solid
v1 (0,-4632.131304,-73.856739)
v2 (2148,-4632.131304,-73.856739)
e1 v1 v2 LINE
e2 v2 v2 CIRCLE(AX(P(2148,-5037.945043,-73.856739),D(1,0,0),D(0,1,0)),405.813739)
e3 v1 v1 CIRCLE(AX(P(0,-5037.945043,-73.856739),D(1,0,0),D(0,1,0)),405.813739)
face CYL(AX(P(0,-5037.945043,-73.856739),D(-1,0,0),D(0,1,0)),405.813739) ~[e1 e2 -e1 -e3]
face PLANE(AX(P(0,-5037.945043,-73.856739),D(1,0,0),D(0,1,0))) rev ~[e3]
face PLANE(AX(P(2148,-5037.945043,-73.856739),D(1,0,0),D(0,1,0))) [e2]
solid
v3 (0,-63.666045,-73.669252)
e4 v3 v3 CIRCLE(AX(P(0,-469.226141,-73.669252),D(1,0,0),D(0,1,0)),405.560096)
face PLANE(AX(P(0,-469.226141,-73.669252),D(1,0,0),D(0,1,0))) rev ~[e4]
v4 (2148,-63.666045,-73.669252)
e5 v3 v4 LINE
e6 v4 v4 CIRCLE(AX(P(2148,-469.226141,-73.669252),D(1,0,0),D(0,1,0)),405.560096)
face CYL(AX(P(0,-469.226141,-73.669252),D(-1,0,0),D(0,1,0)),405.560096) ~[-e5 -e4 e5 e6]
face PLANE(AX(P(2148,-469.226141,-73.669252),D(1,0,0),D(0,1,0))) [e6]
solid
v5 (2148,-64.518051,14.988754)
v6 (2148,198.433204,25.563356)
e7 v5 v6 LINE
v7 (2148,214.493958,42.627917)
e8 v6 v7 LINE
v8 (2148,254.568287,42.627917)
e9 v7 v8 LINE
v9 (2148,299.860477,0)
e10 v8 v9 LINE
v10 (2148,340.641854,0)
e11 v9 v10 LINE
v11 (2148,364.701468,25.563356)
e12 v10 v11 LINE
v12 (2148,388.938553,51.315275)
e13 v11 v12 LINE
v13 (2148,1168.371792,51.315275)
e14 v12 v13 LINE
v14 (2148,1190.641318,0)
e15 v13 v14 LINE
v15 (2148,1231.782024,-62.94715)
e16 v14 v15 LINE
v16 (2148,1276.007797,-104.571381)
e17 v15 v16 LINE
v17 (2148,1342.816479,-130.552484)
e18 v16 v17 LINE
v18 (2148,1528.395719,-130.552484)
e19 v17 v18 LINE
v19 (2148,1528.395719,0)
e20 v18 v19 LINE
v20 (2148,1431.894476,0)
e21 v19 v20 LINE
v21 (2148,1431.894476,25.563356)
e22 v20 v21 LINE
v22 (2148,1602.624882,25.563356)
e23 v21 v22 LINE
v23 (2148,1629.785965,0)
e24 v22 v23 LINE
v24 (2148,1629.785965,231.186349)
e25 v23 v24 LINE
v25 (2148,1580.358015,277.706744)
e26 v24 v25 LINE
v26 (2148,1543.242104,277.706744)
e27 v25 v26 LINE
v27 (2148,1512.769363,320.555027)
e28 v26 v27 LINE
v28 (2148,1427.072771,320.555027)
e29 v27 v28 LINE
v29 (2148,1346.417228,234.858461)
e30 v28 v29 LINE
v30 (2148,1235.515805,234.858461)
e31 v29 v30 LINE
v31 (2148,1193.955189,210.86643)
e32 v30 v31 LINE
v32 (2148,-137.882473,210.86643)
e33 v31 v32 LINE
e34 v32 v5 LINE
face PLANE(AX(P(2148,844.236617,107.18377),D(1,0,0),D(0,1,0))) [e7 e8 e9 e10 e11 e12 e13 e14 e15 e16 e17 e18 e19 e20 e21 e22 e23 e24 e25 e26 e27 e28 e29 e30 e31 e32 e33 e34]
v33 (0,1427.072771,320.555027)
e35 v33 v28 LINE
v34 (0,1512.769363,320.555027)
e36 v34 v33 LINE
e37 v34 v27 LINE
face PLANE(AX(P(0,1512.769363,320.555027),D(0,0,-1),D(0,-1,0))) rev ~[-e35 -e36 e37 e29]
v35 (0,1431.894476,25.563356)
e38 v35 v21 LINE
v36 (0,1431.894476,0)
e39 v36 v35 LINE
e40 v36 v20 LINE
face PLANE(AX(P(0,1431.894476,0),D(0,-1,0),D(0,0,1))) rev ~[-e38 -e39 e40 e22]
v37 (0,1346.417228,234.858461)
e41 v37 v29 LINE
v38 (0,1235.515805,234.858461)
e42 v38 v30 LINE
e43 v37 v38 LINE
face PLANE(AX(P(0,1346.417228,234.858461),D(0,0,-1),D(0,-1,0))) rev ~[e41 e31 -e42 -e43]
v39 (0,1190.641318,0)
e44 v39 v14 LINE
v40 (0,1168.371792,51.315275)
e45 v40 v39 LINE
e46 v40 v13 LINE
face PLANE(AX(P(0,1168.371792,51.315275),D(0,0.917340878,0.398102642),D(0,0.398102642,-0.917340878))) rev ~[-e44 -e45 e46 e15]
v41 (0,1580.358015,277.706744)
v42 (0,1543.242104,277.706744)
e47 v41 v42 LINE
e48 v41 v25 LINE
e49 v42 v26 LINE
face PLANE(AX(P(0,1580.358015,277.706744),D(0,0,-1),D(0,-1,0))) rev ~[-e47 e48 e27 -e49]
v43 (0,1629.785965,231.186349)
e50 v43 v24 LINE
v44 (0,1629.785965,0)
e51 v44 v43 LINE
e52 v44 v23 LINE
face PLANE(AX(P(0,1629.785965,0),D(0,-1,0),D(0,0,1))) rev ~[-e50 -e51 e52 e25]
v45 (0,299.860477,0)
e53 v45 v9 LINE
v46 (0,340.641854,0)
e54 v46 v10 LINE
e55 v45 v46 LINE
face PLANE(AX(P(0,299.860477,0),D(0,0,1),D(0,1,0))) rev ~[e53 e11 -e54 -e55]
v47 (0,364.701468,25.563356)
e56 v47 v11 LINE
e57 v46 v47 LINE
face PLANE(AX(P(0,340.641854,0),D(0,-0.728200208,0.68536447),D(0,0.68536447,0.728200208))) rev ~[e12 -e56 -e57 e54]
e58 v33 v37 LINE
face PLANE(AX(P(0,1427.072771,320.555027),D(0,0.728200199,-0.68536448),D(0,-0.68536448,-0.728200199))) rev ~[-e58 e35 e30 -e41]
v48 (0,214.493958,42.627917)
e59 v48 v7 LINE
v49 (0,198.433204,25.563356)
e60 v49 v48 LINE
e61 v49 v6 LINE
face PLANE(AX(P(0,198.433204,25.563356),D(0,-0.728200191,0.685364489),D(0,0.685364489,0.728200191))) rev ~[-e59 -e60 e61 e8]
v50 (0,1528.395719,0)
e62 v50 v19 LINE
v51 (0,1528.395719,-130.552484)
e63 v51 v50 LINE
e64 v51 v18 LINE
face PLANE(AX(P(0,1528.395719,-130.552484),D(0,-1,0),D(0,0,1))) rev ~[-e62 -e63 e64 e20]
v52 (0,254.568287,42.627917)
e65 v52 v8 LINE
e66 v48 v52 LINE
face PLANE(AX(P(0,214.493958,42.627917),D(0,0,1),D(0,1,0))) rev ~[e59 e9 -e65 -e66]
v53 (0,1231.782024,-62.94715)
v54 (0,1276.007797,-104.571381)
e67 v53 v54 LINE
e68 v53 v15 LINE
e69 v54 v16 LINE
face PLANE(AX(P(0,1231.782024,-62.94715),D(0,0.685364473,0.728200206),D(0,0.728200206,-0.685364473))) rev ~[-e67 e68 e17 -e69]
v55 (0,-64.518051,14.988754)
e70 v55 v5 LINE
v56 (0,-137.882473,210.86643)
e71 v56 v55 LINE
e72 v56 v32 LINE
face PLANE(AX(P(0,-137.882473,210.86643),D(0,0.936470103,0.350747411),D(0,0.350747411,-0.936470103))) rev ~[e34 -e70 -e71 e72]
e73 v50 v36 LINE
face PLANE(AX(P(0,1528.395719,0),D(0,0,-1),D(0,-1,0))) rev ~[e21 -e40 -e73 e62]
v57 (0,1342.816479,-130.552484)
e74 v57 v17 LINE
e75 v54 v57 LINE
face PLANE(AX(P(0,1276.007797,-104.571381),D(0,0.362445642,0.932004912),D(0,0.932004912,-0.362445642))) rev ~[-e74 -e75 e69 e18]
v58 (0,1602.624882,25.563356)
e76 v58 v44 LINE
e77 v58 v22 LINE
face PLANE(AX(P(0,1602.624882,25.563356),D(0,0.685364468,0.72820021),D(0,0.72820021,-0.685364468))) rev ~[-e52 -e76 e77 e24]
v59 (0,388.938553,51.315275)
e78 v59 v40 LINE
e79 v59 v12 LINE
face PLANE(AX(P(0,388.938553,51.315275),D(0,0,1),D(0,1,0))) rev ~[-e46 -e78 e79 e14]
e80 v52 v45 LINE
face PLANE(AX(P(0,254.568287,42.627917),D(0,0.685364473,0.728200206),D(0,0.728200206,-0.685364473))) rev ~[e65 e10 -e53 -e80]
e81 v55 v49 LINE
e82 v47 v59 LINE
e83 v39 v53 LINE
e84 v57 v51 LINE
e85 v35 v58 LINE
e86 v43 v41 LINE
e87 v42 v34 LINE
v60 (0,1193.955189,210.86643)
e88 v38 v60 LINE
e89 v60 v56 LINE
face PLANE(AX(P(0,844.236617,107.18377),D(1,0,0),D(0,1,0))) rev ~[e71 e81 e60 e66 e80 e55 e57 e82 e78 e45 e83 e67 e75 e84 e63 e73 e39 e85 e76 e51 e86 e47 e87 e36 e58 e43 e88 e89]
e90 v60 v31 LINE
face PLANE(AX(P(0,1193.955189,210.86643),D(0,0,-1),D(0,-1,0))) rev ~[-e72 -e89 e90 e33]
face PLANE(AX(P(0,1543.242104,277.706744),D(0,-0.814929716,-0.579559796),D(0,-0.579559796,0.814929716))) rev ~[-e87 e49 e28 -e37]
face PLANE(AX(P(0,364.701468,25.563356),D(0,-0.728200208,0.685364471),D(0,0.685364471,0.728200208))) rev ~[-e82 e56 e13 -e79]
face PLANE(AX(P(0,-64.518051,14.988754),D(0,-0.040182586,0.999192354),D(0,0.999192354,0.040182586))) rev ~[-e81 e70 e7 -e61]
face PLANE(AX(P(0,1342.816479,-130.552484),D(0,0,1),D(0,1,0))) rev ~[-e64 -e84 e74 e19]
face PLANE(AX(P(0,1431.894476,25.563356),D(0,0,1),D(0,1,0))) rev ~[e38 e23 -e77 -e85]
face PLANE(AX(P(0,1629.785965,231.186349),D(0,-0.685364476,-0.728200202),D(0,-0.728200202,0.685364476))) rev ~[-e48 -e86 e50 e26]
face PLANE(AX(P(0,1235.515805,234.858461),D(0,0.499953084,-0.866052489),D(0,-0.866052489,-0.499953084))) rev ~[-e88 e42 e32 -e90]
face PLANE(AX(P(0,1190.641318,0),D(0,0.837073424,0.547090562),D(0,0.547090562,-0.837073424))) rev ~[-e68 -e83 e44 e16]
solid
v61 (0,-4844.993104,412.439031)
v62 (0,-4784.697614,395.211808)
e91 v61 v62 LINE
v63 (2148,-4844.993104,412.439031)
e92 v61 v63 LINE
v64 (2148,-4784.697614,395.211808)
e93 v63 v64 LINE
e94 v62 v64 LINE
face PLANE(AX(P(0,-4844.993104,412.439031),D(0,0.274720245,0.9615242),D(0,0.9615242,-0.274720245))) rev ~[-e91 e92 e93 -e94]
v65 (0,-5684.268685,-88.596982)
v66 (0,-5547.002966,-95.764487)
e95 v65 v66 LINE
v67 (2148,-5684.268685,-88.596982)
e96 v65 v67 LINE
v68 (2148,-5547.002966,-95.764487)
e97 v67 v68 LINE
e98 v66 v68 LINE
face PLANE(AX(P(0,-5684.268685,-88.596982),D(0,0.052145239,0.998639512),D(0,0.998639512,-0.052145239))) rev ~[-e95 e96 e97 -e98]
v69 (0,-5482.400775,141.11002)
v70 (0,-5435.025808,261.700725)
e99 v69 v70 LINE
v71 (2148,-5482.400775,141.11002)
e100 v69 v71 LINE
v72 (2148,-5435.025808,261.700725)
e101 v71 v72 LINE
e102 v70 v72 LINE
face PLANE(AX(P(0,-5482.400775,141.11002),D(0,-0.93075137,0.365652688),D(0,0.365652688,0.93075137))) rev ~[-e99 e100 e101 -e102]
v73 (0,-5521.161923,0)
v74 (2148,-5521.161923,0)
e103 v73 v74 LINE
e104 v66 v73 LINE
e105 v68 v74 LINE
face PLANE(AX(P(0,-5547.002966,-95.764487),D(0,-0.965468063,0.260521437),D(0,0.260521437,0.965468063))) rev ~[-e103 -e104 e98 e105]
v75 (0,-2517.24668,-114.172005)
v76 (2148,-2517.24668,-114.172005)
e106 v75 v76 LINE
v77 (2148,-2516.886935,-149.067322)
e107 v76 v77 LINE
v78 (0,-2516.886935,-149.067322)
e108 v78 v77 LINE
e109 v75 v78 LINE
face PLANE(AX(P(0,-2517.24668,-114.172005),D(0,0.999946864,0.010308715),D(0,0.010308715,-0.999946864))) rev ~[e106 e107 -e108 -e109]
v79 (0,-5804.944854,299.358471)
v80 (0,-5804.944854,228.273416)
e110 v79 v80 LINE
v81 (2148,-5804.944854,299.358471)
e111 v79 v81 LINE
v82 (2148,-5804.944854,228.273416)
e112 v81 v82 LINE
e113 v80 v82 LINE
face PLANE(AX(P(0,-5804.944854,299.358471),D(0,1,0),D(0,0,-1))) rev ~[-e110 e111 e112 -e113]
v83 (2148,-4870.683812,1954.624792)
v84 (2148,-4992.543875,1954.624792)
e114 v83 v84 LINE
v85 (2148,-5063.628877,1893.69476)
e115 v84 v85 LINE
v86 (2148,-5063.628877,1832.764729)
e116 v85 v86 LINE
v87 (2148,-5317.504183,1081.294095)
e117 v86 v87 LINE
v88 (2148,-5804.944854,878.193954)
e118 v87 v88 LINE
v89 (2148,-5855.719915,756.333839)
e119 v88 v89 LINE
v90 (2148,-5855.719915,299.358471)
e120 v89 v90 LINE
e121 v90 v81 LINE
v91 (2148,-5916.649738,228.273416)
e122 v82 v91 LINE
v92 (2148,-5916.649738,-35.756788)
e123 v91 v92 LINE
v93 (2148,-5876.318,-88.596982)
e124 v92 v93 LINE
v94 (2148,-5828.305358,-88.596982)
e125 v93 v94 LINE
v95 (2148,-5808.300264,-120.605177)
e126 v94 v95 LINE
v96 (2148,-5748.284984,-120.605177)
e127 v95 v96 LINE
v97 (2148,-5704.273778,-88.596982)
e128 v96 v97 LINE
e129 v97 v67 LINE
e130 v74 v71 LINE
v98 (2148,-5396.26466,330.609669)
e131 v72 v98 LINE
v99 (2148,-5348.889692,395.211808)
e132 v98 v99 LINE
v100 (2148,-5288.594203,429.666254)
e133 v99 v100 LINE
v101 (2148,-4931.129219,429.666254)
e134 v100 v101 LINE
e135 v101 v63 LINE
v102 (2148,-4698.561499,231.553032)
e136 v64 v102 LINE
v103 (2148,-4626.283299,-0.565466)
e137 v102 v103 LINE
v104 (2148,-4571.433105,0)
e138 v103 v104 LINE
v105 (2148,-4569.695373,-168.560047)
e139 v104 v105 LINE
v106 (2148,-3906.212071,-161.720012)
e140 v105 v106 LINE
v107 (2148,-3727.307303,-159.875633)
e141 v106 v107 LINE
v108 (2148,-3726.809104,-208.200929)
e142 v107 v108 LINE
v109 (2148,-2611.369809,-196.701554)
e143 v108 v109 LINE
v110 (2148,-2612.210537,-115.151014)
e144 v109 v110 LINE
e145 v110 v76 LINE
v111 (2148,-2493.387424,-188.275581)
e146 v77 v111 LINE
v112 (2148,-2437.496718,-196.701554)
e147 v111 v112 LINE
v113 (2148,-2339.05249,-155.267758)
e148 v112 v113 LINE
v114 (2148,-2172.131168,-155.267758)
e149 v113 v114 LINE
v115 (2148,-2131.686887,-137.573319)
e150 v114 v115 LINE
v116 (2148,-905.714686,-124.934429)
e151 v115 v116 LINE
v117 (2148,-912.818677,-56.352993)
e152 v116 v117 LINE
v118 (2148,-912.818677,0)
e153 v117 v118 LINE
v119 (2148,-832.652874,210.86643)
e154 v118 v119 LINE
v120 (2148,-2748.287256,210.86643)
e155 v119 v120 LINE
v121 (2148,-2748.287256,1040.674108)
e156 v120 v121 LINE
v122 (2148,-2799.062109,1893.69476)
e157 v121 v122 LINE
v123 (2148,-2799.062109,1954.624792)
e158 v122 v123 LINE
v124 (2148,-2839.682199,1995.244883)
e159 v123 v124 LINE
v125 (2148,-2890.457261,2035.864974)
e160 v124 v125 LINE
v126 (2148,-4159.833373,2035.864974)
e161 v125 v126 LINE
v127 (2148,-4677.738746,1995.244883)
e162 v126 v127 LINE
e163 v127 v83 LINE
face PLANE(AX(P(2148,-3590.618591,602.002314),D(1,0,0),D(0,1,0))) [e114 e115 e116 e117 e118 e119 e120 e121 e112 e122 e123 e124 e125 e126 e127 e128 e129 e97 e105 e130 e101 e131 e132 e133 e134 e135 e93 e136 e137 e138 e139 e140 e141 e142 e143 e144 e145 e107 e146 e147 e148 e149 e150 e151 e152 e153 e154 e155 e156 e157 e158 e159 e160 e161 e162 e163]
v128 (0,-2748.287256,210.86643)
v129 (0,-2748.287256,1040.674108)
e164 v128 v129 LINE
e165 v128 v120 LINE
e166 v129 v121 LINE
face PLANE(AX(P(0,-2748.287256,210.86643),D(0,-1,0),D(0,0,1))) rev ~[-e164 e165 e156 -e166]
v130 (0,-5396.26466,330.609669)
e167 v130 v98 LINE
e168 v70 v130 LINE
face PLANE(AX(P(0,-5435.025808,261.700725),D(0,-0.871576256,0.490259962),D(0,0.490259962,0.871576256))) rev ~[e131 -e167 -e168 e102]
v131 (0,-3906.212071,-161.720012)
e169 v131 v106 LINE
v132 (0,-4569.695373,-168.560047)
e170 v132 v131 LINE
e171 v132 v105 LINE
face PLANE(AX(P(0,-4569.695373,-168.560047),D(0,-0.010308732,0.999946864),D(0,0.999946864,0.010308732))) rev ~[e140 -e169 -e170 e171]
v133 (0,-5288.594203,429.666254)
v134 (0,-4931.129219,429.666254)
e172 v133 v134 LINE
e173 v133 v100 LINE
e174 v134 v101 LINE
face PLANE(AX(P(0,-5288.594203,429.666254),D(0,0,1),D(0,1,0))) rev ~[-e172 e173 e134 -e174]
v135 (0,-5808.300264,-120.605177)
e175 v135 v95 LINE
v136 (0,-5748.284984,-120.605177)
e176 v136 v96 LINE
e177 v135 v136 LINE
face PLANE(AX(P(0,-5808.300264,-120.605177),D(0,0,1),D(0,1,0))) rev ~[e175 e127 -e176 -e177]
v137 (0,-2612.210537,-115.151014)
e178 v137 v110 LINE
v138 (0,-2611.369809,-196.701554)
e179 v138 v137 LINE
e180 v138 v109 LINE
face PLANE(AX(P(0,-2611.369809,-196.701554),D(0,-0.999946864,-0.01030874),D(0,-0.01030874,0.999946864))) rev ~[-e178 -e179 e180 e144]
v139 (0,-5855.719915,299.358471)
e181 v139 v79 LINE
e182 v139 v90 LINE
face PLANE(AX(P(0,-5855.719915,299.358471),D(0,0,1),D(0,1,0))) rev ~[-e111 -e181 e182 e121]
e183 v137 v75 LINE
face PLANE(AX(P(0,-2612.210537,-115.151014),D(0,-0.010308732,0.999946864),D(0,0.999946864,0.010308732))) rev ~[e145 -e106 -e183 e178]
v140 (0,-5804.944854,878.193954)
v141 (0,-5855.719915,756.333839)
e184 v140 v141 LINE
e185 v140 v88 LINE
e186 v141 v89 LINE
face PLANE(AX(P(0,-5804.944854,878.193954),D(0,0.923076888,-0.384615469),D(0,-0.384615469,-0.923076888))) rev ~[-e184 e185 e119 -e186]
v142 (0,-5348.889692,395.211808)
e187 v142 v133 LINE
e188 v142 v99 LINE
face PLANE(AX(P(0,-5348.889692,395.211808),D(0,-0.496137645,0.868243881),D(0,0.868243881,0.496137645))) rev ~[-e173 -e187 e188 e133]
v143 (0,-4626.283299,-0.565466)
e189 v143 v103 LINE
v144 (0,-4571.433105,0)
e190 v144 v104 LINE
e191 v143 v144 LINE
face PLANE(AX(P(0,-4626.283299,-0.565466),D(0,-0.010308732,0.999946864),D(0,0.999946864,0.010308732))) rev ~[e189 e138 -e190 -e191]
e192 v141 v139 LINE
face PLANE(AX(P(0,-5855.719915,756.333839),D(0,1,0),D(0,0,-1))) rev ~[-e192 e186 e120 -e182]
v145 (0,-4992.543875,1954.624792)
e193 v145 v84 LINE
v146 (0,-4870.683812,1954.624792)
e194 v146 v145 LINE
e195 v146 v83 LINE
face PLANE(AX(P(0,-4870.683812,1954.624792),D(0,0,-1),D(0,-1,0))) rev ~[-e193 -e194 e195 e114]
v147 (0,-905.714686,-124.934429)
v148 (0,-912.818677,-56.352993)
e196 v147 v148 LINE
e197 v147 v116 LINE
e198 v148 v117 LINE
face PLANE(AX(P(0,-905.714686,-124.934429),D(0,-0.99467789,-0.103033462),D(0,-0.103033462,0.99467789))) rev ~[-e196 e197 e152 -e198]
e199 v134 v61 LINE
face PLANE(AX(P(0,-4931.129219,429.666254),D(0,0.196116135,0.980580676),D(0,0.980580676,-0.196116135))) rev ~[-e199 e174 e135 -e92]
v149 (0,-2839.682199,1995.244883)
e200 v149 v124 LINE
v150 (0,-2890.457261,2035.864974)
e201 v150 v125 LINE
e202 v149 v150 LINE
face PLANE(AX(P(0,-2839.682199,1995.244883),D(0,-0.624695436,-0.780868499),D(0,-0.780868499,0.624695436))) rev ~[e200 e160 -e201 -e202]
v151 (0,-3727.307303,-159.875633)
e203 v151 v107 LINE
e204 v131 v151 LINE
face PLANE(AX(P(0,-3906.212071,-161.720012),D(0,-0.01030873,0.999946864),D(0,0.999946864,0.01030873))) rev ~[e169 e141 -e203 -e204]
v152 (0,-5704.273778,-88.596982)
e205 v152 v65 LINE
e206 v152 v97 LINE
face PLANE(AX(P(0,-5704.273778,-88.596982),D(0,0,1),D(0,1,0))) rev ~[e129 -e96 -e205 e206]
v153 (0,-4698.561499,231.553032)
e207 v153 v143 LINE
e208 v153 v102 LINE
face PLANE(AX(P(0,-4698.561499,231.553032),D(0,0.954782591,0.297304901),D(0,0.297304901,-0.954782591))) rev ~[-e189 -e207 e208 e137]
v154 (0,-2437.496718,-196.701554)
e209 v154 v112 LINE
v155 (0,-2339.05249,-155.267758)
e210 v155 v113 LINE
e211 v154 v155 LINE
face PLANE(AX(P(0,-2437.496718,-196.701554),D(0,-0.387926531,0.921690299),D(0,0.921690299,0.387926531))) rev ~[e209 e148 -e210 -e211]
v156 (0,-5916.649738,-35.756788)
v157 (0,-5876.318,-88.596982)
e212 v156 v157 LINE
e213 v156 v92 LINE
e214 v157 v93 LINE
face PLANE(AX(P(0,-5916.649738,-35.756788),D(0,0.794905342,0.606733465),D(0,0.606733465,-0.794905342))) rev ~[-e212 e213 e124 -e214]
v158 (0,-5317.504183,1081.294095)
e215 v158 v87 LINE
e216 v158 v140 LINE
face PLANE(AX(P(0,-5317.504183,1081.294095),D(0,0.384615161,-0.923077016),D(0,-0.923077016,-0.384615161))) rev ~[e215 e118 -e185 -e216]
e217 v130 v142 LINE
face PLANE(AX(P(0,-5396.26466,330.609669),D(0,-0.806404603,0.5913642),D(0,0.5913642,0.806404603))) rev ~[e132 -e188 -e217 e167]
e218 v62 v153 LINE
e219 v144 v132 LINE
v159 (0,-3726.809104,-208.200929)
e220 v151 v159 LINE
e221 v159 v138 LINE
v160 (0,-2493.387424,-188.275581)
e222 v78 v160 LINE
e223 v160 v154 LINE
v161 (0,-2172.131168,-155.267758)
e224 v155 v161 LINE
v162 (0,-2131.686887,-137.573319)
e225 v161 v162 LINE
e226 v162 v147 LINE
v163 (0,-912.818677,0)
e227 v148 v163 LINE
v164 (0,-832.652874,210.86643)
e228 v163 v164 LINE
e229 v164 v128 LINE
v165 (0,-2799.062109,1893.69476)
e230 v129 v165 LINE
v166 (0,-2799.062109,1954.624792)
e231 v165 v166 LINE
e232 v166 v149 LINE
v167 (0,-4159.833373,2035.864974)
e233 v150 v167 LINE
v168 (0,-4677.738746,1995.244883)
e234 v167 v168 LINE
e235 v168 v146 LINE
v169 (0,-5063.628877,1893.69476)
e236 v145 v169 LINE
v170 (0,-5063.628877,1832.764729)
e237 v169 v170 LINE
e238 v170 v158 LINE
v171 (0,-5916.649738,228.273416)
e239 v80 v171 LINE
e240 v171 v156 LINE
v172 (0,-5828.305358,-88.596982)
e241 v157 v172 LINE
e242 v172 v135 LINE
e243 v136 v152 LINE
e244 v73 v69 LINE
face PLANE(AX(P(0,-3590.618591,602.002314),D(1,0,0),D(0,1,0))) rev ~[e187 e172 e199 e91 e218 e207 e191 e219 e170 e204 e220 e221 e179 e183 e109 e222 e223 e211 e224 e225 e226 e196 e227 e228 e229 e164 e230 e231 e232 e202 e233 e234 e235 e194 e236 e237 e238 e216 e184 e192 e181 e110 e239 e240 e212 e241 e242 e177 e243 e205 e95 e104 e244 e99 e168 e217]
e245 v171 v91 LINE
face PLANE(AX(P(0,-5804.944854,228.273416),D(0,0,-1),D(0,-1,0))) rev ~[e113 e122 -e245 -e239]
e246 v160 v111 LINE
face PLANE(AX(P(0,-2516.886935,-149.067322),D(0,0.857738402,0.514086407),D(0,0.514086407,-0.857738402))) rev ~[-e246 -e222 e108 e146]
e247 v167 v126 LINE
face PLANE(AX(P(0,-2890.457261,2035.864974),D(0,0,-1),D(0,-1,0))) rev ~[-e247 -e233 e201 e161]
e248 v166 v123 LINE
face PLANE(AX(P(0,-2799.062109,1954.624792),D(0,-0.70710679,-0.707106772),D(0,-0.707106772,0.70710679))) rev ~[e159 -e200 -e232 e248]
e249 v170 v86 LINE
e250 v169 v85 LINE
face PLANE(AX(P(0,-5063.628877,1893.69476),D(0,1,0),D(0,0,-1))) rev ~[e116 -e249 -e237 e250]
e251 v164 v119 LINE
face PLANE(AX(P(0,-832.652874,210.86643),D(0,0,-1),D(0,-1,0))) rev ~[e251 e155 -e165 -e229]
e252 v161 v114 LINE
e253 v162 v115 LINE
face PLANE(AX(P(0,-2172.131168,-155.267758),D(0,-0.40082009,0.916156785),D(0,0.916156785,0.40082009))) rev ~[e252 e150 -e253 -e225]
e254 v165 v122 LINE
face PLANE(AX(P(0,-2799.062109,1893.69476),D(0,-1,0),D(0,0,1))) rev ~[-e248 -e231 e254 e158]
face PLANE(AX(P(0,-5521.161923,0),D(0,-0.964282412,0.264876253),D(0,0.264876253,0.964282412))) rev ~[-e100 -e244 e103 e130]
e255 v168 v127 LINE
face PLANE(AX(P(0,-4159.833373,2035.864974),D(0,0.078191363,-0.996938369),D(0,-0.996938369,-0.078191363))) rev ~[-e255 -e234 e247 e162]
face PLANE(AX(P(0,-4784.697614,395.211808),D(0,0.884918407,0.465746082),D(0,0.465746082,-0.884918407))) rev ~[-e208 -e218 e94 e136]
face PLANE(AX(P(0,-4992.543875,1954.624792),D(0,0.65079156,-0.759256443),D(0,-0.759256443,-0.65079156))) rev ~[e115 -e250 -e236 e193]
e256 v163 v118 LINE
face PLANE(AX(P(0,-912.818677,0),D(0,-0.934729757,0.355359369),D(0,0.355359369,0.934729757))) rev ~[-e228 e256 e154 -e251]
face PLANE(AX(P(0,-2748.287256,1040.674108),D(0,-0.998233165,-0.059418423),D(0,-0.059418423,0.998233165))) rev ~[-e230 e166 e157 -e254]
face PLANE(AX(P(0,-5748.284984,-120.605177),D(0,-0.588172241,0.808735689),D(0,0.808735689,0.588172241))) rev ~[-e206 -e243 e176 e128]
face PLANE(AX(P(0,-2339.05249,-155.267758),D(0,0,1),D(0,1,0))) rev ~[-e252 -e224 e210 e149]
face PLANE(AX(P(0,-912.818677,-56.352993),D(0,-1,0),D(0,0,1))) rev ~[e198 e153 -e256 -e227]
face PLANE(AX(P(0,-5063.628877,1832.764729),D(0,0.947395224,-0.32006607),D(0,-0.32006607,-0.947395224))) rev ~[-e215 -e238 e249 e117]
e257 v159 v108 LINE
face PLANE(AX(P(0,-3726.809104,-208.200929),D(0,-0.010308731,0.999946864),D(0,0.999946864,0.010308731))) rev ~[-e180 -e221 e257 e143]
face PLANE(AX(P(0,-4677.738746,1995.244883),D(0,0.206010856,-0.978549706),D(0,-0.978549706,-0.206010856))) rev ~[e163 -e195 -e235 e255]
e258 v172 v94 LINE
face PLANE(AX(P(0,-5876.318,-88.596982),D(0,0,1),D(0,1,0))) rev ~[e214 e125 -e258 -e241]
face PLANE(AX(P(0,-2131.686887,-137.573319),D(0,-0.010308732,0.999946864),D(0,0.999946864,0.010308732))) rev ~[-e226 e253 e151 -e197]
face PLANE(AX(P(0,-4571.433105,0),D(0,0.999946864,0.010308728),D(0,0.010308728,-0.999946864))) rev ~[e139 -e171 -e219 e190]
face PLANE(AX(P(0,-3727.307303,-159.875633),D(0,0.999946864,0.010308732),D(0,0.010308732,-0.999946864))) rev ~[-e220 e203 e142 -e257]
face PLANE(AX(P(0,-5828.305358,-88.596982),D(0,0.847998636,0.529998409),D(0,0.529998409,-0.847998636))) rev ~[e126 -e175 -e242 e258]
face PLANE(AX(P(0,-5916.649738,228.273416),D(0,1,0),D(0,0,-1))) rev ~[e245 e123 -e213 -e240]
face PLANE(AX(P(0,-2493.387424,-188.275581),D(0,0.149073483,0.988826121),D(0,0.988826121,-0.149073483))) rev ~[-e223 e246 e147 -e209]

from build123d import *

# Parameters (mm, degrees)
F1_R     = 405.813739
F1_R_2   = 405.560096
F2_DEPTH = 2148
F3_DEPTH = 2148


with BuildPart() as f2:
    # F1 (on Right) → F2 (new body)
    with BuildSketch(Plane.YZ):
        with Locations((-5037.945043, -73.856739)):
            Circle(F1_R)
        with Locations((-469.226141, -73.669252)):
            Circle(F1_R_2)
    extrude(amount=F2_DEPTH)


with BuildPart() as f3:
    # F0 (on Right) → F3 (new body)
    with BuildSketch(Plane.YZ):
        Polygon((-5916.649738, 86.103295), (-5916.649738, -35.756788), (-5876.318, -88.596982), (-5828.305358, -88.596982), (-5808.300264, -120.605177), (-5748.284984, -120.605177), (-5704.273778, -88.596982), (-5684.268685, -88.596982), (-5547.002966, -95.764487), (-5521.161923, 0), (-5482.400775, 141.11002), (-5435.025808, 261.700725), (-5396.26466, 330.609669), (-5348.889692, 395.211808), (-5288.594203, 429.666254), (-4931.129219, 429.666254), (-4844.993104, 412.439031), (-4784.697614, 395.211808), (-4698.561499, 231.553032), (-4626.283299, -0.565466), (-4571.433105, 0), (-4569.695373, -168.560047), (-3906.212071, -161.720012), (-3727.307303, -159.875633), (-3726.809104, -208.200929), (-2611.369809, -196.701554), (-2612.210537, -115.151014), (-2517.24668, -114.172005), (-2516.886935, -149.067322), (-2493.387424, -188.275581), (-2437.496718, -196.701554), (-2339.05249, -155.267758), (-2217.631324, -155.267758), (-2172.131168, -155.267758), (-2131.686887, -137.573319), (-905.714686, -124.934429), (-912.818677, -56.352993), (-912.818677, 0), (-832.652874, 210.86643), (-2748.287256, 210.86643), (-2748.287256, 228.273416), (-2748.287256, 675.093762), (-2748.287256, 1040.674108), (-2799.062109, 1893.69476), (-2799.062109, 1954.624792), (-2839.682199, 1995.244883), (-2890.457261, 2035.864974), (-2971.697442, 2035.864974), (-4159.833373, 2035.864974), (-4677.738746, 1995.244883), (-4870.683812, 1954.624792), (-4921.458873, 1954.624792), (-4992.543875, 1954.624792), (-5063.628877, 1893.69476), (-5063.628877, 1832.764729), (-5317.504183, 1081.294095), (-5804.944854, 878.193954), (-5855.719915, 756.333839), (-5855.719915, 664.938791), (-5855.719915, 299.358471), (-5804.944854, 299.358471), (-5804.944854, 228.273416), (-5916.649738, 228.273416), align=None)
        Polygon((1193.955189, 210.86643), (-137.882473, 210.86643), (-64.518051, 14.988754), (198.433204, 25.563356), (214.493958, 42.627917), (254.568287, 42.627917), (299.860477, 0), (340.641854, 0), (364.701468, 25.563356), (388.938553, 51.315275), (1168.371792, 51.315275), (1190.641318, 0), (1231.782024, -62.94715), (1276.007797, -104.571381), (1342.816479, -130.552484), (1528.395719, -130.552484), (1528.395719, 0), (1431.894476, 0), (1431.894476, 25.563356), (1602.624882, 25.563356), (1629.785965, 0), (1629.785965, 210.86643), (1629.785965, 231.186349), (1580.358015, 277.706744), (1543.242104, 277.706744), (1512.769363, 320.555027), (1427.072771, 320.555027), (1346.417228, 234.858461), (1235.515805, 234.858461), align=None)
    extrude(amount=F3_DEPTH)


solid = Compound([f2.part, f3.part])
